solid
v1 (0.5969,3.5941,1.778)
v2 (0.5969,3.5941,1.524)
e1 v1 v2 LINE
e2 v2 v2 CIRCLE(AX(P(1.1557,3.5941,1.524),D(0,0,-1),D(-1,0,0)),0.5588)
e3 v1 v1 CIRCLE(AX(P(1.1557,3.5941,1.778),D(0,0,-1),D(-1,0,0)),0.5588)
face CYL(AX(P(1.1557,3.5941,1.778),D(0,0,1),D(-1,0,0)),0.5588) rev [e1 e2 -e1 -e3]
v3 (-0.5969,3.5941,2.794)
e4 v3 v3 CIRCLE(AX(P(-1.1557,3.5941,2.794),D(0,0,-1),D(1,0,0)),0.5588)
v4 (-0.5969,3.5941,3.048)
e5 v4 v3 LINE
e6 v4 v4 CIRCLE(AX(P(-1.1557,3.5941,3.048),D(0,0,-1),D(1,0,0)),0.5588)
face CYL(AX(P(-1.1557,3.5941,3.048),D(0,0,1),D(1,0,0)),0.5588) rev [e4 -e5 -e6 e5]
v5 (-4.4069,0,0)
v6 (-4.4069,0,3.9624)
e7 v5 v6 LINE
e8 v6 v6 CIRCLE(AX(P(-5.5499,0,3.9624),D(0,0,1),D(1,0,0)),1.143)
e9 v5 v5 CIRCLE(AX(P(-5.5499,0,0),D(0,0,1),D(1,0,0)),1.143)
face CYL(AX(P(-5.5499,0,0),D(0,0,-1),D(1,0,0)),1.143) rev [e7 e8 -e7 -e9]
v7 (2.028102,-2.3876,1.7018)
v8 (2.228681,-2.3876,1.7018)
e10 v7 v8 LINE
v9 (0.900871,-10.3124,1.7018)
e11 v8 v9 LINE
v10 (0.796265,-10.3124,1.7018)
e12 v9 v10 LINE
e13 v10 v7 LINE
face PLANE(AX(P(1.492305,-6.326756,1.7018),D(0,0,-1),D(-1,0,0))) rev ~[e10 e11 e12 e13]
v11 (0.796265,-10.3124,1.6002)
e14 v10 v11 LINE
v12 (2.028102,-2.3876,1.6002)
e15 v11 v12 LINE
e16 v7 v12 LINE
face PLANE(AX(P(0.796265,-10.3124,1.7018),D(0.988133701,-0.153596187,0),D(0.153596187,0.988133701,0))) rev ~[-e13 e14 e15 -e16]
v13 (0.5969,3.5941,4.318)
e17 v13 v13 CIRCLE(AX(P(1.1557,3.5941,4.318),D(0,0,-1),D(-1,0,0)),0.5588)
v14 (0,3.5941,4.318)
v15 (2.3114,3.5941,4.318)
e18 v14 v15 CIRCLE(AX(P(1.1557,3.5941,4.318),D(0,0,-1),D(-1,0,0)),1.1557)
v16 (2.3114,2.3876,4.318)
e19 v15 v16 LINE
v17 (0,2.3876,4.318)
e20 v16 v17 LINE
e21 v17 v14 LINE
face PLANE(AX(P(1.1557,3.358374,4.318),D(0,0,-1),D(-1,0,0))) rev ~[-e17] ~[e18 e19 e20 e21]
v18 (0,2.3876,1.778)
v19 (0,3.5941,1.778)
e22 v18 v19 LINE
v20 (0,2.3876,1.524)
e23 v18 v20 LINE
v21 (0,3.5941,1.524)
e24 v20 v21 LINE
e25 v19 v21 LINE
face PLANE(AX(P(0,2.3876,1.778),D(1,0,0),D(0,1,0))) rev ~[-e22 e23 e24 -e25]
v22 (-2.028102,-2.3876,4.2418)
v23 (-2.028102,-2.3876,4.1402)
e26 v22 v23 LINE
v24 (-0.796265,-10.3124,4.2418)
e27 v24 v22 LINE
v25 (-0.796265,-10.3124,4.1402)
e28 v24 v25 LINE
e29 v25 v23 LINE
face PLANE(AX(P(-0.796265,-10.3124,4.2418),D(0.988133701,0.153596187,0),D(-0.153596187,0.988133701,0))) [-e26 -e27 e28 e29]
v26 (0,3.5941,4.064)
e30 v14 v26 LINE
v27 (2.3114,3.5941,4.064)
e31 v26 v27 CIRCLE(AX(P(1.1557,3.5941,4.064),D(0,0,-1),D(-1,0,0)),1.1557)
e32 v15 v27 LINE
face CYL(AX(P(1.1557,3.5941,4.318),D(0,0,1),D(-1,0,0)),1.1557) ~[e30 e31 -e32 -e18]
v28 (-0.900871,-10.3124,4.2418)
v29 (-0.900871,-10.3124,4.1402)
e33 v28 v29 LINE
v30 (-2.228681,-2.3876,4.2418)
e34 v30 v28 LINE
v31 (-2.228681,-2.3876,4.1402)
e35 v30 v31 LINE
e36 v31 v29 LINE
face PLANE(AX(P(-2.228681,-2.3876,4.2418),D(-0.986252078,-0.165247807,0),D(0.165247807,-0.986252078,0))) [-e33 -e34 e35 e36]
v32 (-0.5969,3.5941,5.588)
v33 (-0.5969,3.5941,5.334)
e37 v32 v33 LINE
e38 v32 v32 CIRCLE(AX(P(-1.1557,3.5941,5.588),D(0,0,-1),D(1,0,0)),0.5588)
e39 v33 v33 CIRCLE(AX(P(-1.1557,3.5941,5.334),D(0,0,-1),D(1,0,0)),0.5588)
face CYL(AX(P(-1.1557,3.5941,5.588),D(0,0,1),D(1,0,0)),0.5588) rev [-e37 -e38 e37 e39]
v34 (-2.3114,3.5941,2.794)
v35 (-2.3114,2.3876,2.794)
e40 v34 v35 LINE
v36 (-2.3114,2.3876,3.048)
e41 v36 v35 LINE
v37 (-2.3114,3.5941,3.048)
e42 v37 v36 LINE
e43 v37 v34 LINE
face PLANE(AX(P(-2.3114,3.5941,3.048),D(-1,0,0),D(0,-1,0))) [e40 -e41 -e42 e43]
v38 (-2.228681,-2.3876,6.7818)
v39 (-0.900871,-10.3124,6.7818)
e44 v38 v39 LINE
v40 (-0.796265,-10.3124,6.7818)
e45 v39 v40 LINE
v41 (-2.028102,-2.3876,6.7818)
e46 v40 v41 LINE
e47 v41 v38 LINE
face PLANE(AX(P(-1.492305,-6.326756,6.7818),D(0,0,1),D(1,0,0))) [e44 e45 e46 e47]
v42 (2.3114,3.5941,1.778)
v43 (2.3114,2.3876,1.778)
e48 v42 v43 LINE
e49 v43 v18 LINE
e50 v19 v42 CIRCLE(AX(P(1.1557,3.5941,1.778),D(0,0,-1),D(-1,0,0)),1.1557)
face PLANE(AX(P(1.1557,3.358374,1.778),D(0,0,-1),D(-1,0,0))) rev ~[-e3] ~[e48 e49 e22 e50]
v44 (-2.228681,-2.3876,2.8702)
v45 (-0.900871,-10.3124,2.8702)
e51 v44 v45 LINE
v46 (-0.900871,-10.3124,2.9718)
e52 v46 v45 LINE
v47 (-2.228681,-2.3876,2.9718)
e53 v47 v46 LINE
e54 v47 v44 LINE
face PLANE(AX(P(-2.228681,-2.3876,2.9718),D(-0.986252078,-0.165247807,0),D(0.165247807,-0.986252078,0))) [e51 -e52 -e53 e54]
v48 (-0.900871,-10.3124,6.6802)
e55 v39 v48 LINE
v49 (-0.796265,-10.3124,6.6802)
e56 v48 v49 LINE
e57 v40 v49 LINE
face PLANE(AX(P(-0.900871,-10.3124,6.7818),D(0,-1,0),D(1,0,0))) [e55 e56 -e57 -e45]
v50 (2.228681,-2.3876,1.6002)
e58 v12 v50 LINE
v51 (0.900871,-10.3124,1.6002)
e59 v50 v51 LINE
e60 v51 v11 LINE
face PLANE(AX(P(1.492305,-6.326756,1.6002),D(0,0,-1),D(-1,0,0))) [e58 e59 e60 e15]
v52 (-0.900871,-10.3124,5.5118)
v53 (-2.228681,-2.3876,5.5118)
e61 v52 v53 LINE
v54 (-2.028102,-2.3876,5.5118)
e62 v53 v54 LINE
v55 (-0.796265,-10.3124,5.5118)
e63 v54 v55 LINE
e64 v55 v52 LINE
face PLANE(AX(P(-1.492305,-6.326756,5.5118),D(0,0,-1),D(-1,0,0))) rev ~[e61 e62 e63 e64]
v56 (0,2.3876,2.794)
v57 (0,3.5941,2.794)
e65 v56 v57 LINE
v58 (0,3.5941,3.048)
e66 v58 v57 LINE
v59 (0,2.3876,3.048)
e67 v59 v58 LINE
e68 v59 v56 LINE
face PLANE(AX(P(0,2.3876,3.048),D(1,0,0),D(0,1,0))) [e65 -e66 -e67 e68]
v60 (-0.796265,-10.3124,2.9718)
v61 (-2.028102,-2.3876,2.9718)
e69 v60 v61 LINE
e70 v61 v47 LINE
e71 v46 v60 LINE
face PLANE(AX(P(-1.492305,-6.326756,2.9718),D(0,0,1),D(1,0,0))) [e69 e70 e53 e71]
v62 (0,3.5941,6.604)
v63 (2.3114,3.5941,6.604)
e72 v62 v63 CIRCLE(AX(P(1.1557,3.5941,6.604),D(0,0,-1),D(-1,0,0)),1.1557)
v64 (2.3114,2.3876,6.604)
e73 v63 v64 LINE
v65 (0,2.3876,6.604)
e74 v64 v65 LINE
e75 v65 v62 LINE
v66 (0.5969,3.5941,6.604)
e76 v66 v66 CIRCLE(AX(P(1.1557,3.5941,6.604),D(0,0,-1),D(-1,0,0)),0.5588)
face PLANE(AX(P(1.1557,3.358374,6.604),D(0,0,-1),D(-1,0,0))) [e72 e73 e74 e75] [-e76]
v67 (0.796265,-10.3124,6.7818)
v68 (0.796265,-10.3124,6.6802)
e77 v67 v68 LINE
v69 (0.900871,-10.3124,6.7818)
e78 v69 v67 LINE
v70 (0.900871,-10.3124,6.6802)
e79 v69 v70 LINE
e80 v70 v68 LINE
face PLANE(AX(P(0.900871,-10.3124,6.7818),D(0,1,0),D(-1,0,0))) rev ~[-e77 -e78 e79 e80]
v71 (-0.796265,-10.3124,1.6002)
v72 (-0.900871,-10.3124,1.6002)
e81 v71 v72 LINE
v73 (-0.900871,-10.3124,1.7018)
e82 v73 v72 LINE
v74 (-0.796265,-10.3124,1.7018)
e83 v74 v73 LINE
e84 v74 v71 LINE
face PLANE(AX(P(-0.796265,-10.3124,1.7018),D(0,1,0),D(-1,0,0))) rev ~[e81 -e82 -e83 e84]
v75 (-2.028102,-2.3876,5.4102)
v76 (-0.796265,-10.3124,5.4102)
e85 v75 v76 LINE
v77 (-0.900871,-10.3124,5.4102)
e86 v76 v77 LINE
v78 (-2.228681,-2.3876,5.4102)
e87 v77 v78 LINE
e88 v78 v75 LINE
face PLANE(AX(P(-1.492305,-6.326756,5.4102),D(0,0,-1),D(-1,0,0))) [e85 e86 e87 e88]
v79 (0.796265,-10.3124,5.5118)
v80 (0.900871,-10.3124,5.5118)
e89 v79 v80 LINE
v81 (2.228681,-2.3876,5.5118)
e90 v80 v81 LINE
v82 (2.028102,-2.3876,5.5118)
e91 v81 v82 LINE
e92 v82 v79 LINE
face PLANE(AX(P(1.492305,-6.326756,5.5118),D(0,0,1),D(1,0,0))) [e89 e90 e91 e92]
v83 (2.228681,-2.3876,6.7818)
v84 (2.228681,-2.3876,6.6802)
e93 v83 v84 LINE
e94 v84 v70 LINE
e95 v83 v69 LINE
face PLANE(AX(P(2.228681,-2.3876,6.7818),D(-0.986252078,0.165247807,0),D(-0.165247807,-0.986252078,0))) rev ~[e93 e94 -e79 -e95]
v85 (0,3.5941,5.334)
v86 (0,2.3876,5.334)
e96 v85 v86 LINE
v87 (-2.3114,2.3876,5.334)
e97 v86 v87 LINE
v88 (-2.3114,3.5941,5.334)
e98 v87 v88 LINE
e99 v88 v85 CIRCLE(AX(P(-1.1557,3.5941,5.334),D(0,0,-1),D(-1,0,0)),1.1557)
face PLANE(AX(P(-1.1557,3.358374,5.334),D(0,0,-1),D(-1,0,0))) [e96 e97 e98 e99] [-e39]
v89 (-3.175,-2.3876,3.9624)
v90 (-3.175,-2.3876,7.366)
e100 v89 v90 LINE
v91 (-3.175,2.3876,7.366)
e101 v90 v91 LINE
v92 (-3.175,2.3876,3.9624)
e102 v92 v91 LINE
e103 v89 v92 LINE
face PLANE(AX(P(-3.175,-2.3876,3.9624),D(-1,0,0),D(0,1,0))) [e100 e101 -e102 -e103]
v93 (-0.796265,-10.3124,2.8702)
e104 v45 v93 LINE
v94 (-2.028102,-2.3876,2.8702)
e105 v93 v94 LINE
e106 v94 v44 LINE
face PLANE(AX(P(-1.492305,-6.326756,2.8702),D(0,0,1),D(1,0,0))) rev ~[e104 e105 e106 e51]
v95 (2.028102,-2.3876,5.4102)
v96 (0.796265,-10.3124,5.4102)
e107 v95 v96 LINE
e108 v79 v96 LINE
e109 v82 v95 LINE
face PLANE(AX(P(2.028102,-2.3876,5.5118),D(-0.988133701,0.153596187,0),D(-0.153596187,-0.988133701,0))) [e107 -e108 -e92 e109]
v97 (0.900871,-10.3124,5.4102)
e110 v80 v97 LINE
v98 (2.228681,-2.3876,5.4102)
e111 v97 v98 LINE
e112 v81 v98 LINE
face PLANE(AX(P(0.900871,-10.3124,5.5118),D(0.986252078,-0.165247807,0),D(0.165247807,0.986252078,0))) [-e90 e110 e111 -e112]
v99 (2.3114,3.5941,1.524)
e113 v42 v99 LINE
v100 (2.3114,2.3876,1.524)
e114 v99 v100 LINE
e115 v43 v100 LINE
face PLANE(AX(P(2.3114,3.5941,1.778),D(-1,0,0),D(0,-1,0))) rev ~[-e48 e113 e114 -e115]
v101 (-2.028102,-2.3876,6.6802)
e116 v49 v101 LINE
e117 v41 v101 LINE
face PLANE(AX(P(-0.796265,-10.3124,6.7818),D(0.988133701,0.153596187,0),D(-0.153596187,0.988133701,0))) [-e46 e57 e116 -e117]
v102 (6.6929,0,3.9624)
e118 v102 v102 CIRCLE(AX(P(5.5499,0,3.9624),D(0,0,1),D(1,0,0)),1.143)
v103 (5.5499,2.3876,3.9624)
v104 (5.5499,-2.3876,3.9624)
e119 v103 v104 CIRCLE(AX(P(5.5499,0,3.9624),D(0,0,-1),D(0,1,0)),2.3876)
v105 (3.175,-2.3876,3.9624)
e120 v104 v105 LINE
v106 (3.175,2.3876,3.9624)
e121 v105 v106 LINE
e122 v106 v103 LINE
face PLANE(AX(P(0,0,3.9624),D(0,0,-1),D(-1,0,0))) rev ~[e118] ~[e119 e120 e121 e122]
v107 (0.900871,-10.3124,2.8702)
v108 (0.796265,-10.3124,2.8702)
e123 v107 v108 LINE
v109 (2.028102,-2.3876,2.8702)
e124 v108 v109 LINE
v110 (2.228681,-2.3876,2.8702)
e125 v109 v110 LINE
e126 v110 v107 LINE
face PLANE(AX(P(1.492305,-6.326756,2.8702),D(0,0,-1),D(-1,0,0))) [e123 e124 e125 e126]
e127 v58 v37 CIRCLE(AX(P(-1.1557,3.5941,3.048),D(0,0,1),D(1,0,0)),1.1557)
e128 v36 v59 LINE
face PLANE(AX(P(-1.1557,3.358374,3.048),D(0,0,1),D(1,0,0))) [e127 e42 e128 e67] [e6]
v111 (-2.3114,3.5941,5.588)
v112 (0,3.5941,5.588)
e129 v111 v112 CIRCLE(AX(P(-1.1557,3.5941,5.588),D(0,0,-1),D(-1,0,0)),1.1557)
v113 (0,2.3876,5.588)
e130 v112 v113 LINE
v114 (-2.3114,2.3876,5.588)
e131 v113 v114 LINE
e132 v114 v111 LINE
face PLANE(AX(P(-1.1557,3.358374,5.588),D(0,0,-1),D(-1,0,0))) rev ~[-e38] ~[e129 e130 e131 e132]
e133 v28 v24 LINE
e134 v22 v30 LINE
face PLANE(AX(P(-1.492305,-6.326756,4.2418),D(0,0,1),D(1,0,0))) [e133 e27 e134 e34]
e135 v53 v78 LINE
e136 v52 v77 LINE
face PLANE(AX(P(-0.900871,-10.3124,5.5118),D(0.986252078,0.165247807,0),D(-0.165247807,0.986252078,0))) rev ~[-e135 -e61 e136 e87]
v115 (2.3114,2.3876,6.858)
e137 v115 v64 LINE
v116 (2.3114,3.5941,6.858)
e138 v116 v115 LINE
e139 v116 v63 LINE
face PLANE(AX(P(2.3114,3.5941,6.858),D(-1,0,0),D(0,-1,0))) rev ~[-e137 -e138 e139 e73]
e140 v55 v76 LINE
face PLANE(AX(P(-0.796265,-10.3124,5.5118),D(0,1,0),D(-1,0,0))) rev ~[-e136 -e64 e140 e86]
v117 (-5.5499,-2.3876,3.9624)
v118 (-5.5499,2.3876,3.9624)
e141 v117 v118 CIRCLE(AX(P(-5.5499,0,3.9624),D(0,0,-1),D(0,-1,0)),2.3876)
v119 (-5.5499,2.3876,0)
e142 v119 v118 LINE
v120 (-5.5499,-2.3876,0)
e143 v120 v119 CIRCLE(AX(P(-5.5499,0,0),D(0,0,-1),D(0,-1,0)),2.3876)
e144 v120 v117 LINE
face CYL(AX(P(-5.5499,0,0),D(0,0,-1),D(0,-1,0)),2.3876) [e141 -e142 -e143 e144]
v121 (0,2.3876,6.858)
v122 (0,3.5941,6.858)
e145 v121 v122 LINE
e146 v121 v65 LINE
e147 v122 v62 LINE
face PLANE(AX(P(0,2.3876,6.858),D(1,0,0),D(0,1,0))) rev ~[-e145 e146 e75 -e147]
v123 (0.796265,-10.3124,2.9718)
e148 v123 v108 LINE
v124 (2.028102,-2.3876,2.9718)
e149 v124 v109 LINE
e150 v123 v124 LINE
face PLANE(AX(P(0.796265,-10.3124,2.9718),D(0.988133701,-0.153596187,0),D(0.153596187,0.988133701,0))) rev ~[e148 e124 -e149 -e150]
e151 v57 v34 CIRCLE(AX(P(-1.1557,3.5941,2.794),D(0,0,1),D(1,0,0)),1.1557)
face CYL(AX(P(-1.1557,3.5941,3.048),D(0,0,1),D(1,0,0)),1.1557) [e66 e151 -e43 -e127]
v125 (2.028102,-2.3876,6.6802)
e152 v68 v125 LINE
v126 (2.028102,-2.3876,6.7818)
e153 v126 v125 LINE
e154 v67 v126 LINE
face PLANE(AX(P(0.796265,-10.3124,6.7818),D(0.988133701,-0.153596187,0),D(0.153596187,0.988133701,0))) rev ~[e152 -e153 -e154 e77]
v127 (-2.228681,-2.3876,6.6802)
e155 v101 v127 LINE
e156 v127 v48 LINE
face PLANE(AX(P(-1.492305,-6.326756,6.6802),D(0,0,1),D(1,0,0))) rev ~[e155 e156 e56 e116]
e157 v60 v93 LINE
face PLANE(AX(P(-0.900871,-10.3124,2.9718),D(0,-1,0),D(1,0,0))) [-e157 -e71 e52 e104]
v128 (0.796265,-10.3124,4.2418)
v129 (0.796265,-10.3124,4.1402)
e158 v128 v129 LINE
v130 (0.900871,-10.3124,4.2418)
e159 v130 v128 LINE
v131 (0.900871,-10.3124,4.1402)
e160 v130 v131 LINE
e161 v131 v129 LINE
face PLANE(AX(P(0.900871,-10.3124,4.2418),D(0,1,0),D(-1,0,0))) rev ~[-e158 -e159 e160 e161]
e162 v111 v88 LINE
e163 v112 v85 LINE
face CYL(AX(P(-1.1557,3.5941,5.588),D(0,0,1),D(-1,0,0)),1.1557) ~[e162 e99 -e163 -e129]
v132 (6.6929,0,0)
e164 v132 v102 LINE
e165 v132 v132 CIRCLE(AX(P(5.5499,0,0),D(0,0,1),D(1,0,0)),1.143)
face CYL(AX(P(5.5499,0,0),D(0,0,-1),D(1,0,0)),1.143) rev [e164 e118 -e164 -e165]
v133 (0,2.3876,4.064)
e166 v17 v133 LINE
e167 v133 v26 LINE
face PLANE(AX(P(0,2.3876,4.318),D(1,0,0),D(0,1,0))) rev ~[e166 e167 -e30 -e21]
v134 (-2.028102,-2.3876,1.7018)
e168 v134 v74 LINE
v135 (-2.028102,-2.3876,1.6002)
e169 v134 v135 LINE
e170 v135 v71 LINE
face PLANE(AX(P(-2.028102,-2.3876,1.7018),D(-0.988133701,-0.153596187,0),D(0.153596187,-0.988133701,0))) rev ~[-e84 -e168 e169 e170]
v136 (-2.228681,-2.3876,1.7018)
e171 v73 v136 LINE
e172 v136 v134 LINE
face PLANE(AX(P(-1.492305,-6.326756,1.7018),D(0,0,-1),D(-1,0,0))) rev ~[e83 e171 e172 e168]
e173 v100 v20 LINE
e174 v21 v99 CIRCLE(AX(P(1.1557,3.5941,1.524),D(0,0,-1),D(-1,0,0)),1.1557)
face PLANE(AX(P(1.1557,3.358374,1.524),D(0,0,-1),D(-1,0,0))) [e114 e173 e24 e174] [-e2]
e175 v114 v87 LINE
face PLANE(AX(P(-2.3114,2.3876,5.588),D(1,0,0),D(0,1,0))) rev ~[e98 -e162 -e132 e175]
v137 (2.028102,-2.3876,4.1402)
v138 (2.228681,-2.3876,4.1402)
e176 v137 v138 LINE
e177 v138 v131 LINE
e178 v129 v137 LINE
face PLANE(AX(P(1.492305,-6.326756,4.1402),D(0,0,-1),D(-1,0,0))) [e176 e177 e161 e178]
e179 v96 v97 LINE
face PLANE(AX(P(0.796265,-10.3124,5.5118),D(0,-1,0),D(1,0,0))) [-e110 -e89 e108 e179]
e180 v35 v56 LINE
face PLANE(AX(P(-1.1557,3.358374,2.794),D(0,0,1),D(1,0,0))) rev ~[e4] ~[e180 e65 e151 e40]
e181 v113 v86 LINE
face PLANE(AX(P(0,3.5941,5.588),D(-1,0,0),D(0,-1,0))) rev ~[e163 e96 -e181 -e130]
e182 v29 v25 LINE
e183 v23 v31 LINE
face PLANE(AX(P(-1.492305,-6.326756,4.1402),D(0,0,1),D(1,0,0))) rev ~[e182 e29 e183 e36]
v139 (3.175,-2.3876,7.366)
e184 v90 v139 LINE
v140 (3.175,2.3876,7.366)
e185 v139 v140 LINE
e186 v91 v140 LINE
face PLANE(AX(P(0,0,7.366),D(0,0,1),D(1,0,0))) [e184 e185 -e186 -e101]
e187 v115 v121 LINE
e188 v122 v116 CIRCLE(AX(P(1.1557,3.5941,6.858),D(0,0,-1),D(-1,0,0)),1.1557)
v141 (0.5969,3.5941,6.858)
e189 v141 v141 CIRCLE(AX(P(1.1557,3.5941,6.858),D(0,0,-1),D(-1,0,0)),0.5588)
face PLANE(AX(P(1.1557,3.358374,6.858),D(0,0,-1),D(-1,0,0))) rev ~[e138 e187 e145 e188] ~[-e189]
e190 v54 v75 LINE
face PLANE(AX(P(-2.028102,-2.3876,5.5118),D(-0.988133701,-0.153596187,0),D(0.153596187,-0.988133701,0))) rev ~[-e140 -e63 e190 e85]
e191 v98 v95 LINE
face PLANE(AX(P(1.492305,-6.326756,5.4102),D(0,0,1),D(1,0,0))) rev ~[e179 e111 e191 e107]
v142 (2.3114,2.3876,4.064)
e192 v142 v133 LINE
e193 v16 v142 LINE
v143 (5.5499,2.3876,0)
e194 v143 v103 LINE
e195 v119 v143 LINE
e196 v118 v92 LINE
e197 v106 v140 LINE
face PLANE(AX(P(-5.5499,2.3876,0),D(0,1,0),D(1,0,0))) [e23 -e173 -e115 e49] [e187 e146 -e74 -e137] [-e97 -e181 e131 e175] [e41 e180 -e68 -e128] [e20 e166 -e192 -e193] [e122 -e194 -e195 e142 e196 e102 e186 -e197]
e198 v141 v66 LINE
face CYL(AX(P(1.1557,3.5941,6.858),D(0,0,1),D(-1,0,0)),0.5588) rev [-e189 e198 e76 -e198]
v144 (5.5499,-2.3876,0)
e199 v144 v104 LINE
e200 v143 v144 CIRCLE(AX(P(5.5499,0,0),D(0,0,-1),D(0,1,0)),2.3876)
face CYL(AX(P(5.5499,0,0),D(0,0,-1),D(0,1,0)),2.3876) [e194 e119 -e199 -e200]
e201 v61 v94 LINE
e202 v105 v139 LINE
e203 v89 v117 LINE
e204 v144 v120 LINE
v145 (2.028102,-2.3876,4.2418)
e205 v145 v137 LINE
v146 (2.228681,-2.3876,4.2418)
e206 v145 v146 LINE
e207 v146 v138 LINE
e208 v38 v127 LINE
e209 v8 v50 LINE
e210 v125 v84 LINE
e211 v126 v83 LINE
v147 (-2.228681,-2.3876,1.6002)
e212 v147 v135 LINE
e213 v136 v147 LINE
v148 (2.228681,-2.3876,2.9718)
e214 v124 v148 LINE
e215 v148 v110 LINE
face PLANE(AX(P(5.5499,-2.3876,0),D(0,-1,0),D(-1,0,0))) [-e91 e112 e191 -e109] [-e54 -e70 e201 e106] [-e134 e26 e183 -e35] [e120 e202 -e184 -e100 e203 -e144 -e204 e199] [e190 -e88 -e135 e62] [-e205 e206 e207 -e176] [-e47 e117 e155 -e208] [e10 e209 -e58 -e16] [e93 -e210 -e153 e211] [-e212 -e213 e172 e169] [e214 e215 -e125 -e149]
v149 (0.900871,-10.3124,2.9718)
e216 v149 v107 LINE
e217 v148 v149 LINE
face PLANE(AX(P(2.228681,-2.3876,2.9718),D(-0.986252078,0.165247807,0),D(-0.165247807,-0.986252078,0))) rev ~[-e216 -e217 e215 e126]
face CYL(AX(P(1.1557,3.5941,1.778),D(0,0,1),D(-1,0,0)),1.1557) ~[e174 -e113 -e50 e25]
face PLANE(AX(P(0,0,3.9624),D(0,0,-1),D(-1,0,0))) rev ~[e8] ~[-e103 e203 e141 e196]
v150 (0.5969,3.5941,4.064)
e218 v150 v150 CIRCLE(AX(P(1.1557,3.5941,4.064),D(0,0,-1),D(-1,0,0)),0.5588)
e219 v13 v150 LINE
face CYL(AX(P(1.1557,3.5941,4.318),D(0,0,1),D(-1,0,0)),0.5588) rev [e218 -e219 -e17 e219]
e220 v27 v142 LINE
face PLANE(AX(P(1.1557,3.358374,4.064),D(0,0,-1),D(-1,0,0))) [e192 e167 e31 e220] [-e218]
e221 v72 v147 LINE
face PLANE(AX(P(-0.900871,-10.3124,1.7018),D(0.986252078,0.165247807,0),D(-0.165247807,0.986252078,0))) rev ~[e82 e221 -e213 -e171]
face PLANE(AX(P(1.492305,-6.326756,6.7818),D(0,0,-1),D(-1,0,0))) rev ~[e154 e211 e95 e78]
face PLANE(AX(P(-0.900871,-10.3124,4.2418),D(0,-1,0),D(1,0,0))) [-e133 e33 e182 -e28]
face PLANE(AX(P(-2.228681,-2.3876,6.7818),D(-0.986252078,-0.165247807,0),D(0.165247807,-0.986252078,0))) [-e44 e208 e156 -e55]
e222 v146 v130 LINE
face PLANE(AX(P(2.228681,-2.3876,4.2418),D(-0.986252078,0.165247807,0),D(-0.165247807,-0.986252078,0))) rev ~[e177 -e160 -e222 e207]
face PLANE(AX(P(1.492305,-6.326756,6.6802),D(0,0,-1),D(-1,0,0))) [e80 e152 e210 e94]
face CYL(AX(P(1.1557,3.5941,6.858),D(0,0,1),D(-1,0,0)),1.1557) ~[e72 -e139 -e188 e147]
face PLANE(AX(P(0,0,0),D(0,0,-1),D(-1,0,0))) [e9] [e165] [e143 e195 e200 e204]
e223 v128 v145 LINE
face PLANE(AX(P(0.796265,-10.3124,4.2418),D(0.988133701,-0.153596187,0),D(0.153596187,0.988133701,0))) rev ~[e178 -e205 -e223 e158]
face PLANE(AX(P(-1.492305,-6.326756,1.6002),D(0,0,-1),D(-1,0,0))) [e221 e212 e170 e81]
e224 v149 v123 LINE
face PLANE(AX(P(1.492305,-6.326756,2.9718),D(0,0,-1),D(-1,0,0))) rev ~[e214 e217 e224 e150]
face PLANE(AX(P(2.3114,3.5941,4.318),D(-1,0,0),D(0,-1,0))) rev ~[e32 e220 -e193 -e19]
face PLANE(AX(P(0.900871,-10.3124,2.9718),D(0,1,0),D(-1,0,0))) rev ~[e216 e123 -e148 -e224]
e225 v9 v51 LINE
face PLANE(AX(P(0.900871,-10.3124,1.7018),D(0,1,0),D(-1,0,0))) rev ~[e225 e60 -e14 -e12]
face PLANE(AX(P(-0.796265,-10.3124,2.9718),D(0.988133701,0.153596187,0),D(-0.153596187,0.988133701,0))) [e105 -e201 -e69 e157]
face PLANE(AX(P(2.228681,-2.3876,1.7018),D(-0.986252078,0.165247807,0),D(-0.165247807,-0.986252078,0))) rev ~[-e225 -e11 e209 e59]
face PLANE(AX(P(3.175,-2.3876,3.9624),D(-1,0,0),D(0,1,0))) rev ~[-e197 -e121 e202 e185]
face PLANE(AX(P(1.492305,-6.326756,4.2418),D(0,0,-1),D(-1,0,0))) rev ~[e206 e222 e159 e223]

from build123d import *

# Parameters (mm, degrees)
SKETCH1_R                 = 1.143
BOSS_EXTRUDE1_DEPTH       = 3.9624
SKETCH2_W                 = 6.35
SKETCH2_H                 = 4.7752
BOSS_EXTRUDE2_DEPTH       = 3.4036
BOSS_EXTRUDE3_DEPTH       = 0.127
BOSS_EXTRUDE3_DEPTH_BACK  = 0.127
SKETCH3_R                 = 0.5588
BOSS_EXTRUDE4_DEPTH       = 0.127
BOSS_EXTRUDE4_DEPTH_BACK  = 0.127
SKETCH4_R                 = 0.5588
BOSS_EXTRUDE5_DEPTH       = 0.127
BOSS_EXTRUDE5_DEPTH_BACK  = 0.127
SKETCH5_R                 = 0.5588
BOSS_EXTRUDE6_DEPTH       = 0.127
BOSS_EXTRUDE6_DEPTH_BACK  = 0.127
SKETCH7_R                 = 0.5588
BOSS_EXTRUDE7_DEPTH       = 0.127
BOSS_EXTRUDE7_DEPTH_BACK  = 0.127
SKETCH6_R                 = 0.5588
BOSS_EXTRUDE8_DEPTH       = 0.0508
BOSS_EXTRUDE8_DEPTH_BACK  = 0.0508
BOSS_EXTRUDE11_DEPTH      = 0.0508
BOSS_EXTRUDE11_DEPTH_BACK = 0.0508
BOSS_EXTRUDE12_DEPTH      = 0.0508
BOSS_EXTRUDE12_DEPTH_BACK = 0.0508
BOSS_EXTRUDE13_DEPTH      = 0.0508
BOSS_EXTRUDE13_DEPTH_BACK = 0.0508
BOSS_EXTRUDE14_DEPTH      = 0.0508
BOSS_EXTRUDE14_DEPTH_BACK = 0.0508


with BuildPart() as part:
    # Sketch1 → Boss-Extrude1 (new body)
    with BuildSketch(Plane.XY):
        with BuildLine():
            Line((-5.5499, 2.3876), (5.5499, 2.3876))
            ThreePointArc((5.5499, 2.3876), (7.9375, 0), (5.5499, -2.3876))
            Line((5.5499, -2.3876), (-5.5499, -2.3876))
            ThreePointArc((-5.5499, -2.3876), (-7.9375, 0), (-5.5499, 2.3876))
        make_face()
        with Locations((-5.5499, 0)):
            Circle(SKETCH1_R, mode=Mode.SUBTRACT)
        with Locations((5.5499, 0)):
            Circle(SKETCH1_R, mode=Mode.SUBTRACT)
    extrude(amount=BOSS_EXTRUDE1_DEPTH)

    # Sketch2 → Boss-Extrude2 (add)
    with BuildSketch(Plane.XY.offset(3.9624)):
        Rectangle(SKETCH2_W, SKETCH2_H)
    extrude(amount=BOSS_EXTRUDE2_DEPTH)

    # Sketch3 → Boss-Extrude3 (add, two sides: drawn at the far end of the back side and taken through both)
    with BuildSketch(Plane(origin=(0, 0, 1.651), x_dir=(-1, 0, 0), z_dir=(0, 0, -1)).offset(-BOSS_EXTRUDE3_DEPTH_BACK)):
        with BuildLine():
            Line((-2.3114, 3.5941), (-2.3114, 2.3876))
            Line((-2.3114, 2.3876), (0, 2.3876))
            Line((0, 2.3876), (0, 3.5941))
            ThreePointArc((0, 3.5941), (-1.1557, 4.7498), (-2.3114, 3.5941))
        make_face()
        with Locations((-1.1557, 3.5941)):
            Circle(SKETCH3_R, mode=Mode.SUBTRACT)
    extrude(amount=BOSS_EXTRUDE3_DEPTH + BOSS_EXTRUDE3_DEPTH_BACK)

    # Sketch4 → Boss-Extrude4 (add, two sides: drawn at the far end of the back side and taken through both)
    with BuildSketch(Plane(origin=(0, 0, 2.921), x_dir=(-1, 0, 0), z_dir=(0, 0, -1)).offset(-BOSS_EXTRUDE4_DEPTH_BACK)):
        with BuildLine():
            Line((2.3114, 3.5941), (2.3114, 2.3876))
            Line((2.3114, 2.3876), (0, 2.3876))
            Line((0, 2.3876), (0, 3.5941))
            ThreePointArc((0, 3.5941), (1.1557, 4.7498), (2.3114, 3.5941))
        make_face()
        with Locations(Location((1.1557, 3.5941, 0), (0, 0, 180))):
            Circle(SKETCH4_R, mode=Mode.SUBTRACT)
    extrude(amount=BOSS_EXTRUDE4_DEPTH + BOSS_EXTRUDE4_DEPTH_BACK)

    # Sketch5 → Boss-Extrude5 (add, two sides: drawn at the far end of the back side and taken through both)
    with BuildSketch(Plane(origin=(0, 0, 4.191), x_dir=(-1, 0, 0), z_dir=(0, 0, -1)).offset(-BOSS_EXTRUDE5_DEPTH_BACK)):
        with BuildLine():
            Line((-2.3114, 3.5941), (-2.3114, 2.3876))
            Line((-2.3114, 2.3876), (0, 2.3876))
            Line((0, 2.3876), (0, 3.5941))
            ThreePointArc((0, 3.5941), (-1.1557, 4.7498), (-2.3114, 3.5941))
        make_face()
        with Locations((-1.1557, 3.5941)):
            Circle(SKETCH5_R, mode=Mode.SUBTRACT)
    extrude(amount=BOSS_EXTRUDE5_DEPTH + BOSS_EXTRUDE5_DEPTH_BACK)

    # Sketch7 → Boss-Extrude6 (add, two sides: drawn at the far end of the back side and taken through both)
    with BuildSketch(Plane(origin=(0, 0, 5.461), x_dir=(-1, 0, 0), z_dir=(0, 0, -1)).offset(-BOSS_EXTRUDE6_DEPTH_BACK)):
        with BuildLine():
            Line((2.3114, 2.3876), (2.3114, 3.5941))
            ThreePointArc((2.3114, 3.5941), (1.1557, 4.7498), (0, 3.5941))
            Line((0, 3.5941), (0, 2.3876))
            Line((0, 2.3876), (2.3114, 2.3876))
        make_face()
        with Locations(Location((1.1557, 3.5941, 0), (0, 0, 180))):
            Circle(SKETCH7_R, mode=Mode.SUBTRACT)
    extrude(amount=BOSS_EXTRUDE6_DEPTH + BOSS_EXTRUDE6_DEPTH_BACK)

    # Sketch6 → Boss-Extrude7 (add, two sides: drawn at the far end of the back side and taken through both)
    with BuildSketch(Plane(origin=(0, 0, 6.731), x_dir=(-1, 0, 0), z_dir=(0, 0, -1)).offset(-BOSS_EXTRUDE7_DEPTH_BACK)):
        with BuildLine():
            Line((-2.3114, 3.5941), (-2.3114, 2.3876))
            Line((-2.3114, 2.3876), (0, 2.3876))
            Line((0, 2.3876), (0, 3.5941))
            ThreePointArc((0, 3.5941), (-1.1557, 4.7498), (-2.3114, 3.5941))
        make_face()
        with Locations((-1.1557, 3.5941)):
            Circle(SKETCH6_R, mode=Mode.SUBTRACT)
    extrude(amount=BOSS_EXTRUDE7_DEPTH + BOSS_EXTRUDE7_DEPTH_BACK)

    # Sketch8 → Boss-Extrude8 (add, two sides: drawn at the far end of the back side and taken through both)
    with BuildSketch(Plane(origin=(0, 0, 1.651), x_dir=(-1, 0, 0), z_dir=(0, 0, -1)).offset(-BOSS_EXTRUDE8_DEPTH_BACK)):
        Polygon((2.228681211, -2.3876), (2.028101851, -2.3876), (0.796265448, -10.3124), (0.900870757, -10.3124), align=None)
        Polygon((-0.900870757, -10.3124), (-0.796265448, -10.3124), (-2.028101851, -2.3876), (-2.228681211, -2.3876), align=None)
    extrude(amount=BOSS_EXTRUDE8_DEPTH + BOSS_EXTRUDE8_DEPTH_BACK)

    # Sketch11 → Boss-Extrude11 (add, two sides: drawn at the far end of the back side and taken through both)
    with BuildSketch(Plane(origin=(0, 0, 4.191), x_dir=(-1, 0, 0), z_dir=(0, 0, -1)).offset(-BOSS_EXTRUDE11_DEPTH_BACK)):
        Polygon((2.228681211, -2.3876), (0.900870757, -10.3124), (0.796265448, -10.3124), (2.028101851, -2.3876), align=None)
        Polygon((-0.900870757, -10.3124), (-0.796265448, -10.3124), (-2.028101851, -2.3876), (-2.228681211, -2.3876), align=None)
    extrude(amount=BOSS_EXTRUDE11_DEPTH + BOSS_EXTRUDE11_DEPTH_BACK)

    # Sketch12 → Boss-Extrude12 (add, two sides: drawn at the far end of the back side and taken through both)
    with BuildSketch(Plane(origin=(0, 0, 6.731), x_dir=(-1, 0, 0), z_dir=(0, 0, -1)).offset(-BOSS_EXTRUDE12_DEPTH_BACK)):
        Polygon((2.228681211, -2.3876), (0.900870757, -10.3124), (0.796265448, -10.3124), (2.028101851, -2.3876), align=None)
        Polygon((-0.900870757, -10.3124), (-0.796265448, -10.3124), (-2.028101851, -2.3876), (-2.228681211, -2.3876), align=None)
    extrude(amount=BOSS_EXTRUDE12_DEPTH + BOSS_EXTRUDE12_DEPTH_BACK)

    # Sketch13 → Boss-Extrude13 (add, two sides: drawn at the far end of the back side and taken through both)
    with BuildSketch(Plane(origin=(0, 0, 2.921), x_dir=(-1, 0, 0), z_dir=(0, 0, -1)).offset(-BOSS_EXTRUDE13_DEPTH_BACK)):
        Polygon((0.900870757, -10.3124), (0.796265448, -10.3124), (2.028101851, -2.3876), (2.228681211, -2.3876), align=None)
        Polygon((-0.900870757, -10.3124), (-0.796265448, -10.3124), (-2.028101851, -2.3876), (-2.228681211, -2.3876), align=None)
    extrude(amount=BOSS_EXTRUDE13_DEPTH + BOSS_EXTRUDE13_DEPTH_BACK)

    # Sketch15 → Boss-Extrude14 (add, two sides: drawn at the far end of the back side and taken through both)
    with BuildSketch(Plane(origin=(0, 0, 5.461), x_dir=(-1, 0, 0), z_dir=(0, 0, -1)).offset(-BOSS_EXTRUDE14_DEPTH_BACK)):
        Polygon((-0.900870757, -10.3124), (-2.228681211, -2.3876), (-2.028101851, -2.3876), (-0.796265448, -10.3124), align=None)
        Polygon((0.796265448, -10.3124), (0.900870757, -10.3124), (2.228681211, -2.3876), (2.028101851, -2.3876), align=None)
    extrude(amount=BOSS_EXTRUDE14_DEPTH + BOSS_EXTRUDE14_DEPTH_BACK)


solid = part.part
